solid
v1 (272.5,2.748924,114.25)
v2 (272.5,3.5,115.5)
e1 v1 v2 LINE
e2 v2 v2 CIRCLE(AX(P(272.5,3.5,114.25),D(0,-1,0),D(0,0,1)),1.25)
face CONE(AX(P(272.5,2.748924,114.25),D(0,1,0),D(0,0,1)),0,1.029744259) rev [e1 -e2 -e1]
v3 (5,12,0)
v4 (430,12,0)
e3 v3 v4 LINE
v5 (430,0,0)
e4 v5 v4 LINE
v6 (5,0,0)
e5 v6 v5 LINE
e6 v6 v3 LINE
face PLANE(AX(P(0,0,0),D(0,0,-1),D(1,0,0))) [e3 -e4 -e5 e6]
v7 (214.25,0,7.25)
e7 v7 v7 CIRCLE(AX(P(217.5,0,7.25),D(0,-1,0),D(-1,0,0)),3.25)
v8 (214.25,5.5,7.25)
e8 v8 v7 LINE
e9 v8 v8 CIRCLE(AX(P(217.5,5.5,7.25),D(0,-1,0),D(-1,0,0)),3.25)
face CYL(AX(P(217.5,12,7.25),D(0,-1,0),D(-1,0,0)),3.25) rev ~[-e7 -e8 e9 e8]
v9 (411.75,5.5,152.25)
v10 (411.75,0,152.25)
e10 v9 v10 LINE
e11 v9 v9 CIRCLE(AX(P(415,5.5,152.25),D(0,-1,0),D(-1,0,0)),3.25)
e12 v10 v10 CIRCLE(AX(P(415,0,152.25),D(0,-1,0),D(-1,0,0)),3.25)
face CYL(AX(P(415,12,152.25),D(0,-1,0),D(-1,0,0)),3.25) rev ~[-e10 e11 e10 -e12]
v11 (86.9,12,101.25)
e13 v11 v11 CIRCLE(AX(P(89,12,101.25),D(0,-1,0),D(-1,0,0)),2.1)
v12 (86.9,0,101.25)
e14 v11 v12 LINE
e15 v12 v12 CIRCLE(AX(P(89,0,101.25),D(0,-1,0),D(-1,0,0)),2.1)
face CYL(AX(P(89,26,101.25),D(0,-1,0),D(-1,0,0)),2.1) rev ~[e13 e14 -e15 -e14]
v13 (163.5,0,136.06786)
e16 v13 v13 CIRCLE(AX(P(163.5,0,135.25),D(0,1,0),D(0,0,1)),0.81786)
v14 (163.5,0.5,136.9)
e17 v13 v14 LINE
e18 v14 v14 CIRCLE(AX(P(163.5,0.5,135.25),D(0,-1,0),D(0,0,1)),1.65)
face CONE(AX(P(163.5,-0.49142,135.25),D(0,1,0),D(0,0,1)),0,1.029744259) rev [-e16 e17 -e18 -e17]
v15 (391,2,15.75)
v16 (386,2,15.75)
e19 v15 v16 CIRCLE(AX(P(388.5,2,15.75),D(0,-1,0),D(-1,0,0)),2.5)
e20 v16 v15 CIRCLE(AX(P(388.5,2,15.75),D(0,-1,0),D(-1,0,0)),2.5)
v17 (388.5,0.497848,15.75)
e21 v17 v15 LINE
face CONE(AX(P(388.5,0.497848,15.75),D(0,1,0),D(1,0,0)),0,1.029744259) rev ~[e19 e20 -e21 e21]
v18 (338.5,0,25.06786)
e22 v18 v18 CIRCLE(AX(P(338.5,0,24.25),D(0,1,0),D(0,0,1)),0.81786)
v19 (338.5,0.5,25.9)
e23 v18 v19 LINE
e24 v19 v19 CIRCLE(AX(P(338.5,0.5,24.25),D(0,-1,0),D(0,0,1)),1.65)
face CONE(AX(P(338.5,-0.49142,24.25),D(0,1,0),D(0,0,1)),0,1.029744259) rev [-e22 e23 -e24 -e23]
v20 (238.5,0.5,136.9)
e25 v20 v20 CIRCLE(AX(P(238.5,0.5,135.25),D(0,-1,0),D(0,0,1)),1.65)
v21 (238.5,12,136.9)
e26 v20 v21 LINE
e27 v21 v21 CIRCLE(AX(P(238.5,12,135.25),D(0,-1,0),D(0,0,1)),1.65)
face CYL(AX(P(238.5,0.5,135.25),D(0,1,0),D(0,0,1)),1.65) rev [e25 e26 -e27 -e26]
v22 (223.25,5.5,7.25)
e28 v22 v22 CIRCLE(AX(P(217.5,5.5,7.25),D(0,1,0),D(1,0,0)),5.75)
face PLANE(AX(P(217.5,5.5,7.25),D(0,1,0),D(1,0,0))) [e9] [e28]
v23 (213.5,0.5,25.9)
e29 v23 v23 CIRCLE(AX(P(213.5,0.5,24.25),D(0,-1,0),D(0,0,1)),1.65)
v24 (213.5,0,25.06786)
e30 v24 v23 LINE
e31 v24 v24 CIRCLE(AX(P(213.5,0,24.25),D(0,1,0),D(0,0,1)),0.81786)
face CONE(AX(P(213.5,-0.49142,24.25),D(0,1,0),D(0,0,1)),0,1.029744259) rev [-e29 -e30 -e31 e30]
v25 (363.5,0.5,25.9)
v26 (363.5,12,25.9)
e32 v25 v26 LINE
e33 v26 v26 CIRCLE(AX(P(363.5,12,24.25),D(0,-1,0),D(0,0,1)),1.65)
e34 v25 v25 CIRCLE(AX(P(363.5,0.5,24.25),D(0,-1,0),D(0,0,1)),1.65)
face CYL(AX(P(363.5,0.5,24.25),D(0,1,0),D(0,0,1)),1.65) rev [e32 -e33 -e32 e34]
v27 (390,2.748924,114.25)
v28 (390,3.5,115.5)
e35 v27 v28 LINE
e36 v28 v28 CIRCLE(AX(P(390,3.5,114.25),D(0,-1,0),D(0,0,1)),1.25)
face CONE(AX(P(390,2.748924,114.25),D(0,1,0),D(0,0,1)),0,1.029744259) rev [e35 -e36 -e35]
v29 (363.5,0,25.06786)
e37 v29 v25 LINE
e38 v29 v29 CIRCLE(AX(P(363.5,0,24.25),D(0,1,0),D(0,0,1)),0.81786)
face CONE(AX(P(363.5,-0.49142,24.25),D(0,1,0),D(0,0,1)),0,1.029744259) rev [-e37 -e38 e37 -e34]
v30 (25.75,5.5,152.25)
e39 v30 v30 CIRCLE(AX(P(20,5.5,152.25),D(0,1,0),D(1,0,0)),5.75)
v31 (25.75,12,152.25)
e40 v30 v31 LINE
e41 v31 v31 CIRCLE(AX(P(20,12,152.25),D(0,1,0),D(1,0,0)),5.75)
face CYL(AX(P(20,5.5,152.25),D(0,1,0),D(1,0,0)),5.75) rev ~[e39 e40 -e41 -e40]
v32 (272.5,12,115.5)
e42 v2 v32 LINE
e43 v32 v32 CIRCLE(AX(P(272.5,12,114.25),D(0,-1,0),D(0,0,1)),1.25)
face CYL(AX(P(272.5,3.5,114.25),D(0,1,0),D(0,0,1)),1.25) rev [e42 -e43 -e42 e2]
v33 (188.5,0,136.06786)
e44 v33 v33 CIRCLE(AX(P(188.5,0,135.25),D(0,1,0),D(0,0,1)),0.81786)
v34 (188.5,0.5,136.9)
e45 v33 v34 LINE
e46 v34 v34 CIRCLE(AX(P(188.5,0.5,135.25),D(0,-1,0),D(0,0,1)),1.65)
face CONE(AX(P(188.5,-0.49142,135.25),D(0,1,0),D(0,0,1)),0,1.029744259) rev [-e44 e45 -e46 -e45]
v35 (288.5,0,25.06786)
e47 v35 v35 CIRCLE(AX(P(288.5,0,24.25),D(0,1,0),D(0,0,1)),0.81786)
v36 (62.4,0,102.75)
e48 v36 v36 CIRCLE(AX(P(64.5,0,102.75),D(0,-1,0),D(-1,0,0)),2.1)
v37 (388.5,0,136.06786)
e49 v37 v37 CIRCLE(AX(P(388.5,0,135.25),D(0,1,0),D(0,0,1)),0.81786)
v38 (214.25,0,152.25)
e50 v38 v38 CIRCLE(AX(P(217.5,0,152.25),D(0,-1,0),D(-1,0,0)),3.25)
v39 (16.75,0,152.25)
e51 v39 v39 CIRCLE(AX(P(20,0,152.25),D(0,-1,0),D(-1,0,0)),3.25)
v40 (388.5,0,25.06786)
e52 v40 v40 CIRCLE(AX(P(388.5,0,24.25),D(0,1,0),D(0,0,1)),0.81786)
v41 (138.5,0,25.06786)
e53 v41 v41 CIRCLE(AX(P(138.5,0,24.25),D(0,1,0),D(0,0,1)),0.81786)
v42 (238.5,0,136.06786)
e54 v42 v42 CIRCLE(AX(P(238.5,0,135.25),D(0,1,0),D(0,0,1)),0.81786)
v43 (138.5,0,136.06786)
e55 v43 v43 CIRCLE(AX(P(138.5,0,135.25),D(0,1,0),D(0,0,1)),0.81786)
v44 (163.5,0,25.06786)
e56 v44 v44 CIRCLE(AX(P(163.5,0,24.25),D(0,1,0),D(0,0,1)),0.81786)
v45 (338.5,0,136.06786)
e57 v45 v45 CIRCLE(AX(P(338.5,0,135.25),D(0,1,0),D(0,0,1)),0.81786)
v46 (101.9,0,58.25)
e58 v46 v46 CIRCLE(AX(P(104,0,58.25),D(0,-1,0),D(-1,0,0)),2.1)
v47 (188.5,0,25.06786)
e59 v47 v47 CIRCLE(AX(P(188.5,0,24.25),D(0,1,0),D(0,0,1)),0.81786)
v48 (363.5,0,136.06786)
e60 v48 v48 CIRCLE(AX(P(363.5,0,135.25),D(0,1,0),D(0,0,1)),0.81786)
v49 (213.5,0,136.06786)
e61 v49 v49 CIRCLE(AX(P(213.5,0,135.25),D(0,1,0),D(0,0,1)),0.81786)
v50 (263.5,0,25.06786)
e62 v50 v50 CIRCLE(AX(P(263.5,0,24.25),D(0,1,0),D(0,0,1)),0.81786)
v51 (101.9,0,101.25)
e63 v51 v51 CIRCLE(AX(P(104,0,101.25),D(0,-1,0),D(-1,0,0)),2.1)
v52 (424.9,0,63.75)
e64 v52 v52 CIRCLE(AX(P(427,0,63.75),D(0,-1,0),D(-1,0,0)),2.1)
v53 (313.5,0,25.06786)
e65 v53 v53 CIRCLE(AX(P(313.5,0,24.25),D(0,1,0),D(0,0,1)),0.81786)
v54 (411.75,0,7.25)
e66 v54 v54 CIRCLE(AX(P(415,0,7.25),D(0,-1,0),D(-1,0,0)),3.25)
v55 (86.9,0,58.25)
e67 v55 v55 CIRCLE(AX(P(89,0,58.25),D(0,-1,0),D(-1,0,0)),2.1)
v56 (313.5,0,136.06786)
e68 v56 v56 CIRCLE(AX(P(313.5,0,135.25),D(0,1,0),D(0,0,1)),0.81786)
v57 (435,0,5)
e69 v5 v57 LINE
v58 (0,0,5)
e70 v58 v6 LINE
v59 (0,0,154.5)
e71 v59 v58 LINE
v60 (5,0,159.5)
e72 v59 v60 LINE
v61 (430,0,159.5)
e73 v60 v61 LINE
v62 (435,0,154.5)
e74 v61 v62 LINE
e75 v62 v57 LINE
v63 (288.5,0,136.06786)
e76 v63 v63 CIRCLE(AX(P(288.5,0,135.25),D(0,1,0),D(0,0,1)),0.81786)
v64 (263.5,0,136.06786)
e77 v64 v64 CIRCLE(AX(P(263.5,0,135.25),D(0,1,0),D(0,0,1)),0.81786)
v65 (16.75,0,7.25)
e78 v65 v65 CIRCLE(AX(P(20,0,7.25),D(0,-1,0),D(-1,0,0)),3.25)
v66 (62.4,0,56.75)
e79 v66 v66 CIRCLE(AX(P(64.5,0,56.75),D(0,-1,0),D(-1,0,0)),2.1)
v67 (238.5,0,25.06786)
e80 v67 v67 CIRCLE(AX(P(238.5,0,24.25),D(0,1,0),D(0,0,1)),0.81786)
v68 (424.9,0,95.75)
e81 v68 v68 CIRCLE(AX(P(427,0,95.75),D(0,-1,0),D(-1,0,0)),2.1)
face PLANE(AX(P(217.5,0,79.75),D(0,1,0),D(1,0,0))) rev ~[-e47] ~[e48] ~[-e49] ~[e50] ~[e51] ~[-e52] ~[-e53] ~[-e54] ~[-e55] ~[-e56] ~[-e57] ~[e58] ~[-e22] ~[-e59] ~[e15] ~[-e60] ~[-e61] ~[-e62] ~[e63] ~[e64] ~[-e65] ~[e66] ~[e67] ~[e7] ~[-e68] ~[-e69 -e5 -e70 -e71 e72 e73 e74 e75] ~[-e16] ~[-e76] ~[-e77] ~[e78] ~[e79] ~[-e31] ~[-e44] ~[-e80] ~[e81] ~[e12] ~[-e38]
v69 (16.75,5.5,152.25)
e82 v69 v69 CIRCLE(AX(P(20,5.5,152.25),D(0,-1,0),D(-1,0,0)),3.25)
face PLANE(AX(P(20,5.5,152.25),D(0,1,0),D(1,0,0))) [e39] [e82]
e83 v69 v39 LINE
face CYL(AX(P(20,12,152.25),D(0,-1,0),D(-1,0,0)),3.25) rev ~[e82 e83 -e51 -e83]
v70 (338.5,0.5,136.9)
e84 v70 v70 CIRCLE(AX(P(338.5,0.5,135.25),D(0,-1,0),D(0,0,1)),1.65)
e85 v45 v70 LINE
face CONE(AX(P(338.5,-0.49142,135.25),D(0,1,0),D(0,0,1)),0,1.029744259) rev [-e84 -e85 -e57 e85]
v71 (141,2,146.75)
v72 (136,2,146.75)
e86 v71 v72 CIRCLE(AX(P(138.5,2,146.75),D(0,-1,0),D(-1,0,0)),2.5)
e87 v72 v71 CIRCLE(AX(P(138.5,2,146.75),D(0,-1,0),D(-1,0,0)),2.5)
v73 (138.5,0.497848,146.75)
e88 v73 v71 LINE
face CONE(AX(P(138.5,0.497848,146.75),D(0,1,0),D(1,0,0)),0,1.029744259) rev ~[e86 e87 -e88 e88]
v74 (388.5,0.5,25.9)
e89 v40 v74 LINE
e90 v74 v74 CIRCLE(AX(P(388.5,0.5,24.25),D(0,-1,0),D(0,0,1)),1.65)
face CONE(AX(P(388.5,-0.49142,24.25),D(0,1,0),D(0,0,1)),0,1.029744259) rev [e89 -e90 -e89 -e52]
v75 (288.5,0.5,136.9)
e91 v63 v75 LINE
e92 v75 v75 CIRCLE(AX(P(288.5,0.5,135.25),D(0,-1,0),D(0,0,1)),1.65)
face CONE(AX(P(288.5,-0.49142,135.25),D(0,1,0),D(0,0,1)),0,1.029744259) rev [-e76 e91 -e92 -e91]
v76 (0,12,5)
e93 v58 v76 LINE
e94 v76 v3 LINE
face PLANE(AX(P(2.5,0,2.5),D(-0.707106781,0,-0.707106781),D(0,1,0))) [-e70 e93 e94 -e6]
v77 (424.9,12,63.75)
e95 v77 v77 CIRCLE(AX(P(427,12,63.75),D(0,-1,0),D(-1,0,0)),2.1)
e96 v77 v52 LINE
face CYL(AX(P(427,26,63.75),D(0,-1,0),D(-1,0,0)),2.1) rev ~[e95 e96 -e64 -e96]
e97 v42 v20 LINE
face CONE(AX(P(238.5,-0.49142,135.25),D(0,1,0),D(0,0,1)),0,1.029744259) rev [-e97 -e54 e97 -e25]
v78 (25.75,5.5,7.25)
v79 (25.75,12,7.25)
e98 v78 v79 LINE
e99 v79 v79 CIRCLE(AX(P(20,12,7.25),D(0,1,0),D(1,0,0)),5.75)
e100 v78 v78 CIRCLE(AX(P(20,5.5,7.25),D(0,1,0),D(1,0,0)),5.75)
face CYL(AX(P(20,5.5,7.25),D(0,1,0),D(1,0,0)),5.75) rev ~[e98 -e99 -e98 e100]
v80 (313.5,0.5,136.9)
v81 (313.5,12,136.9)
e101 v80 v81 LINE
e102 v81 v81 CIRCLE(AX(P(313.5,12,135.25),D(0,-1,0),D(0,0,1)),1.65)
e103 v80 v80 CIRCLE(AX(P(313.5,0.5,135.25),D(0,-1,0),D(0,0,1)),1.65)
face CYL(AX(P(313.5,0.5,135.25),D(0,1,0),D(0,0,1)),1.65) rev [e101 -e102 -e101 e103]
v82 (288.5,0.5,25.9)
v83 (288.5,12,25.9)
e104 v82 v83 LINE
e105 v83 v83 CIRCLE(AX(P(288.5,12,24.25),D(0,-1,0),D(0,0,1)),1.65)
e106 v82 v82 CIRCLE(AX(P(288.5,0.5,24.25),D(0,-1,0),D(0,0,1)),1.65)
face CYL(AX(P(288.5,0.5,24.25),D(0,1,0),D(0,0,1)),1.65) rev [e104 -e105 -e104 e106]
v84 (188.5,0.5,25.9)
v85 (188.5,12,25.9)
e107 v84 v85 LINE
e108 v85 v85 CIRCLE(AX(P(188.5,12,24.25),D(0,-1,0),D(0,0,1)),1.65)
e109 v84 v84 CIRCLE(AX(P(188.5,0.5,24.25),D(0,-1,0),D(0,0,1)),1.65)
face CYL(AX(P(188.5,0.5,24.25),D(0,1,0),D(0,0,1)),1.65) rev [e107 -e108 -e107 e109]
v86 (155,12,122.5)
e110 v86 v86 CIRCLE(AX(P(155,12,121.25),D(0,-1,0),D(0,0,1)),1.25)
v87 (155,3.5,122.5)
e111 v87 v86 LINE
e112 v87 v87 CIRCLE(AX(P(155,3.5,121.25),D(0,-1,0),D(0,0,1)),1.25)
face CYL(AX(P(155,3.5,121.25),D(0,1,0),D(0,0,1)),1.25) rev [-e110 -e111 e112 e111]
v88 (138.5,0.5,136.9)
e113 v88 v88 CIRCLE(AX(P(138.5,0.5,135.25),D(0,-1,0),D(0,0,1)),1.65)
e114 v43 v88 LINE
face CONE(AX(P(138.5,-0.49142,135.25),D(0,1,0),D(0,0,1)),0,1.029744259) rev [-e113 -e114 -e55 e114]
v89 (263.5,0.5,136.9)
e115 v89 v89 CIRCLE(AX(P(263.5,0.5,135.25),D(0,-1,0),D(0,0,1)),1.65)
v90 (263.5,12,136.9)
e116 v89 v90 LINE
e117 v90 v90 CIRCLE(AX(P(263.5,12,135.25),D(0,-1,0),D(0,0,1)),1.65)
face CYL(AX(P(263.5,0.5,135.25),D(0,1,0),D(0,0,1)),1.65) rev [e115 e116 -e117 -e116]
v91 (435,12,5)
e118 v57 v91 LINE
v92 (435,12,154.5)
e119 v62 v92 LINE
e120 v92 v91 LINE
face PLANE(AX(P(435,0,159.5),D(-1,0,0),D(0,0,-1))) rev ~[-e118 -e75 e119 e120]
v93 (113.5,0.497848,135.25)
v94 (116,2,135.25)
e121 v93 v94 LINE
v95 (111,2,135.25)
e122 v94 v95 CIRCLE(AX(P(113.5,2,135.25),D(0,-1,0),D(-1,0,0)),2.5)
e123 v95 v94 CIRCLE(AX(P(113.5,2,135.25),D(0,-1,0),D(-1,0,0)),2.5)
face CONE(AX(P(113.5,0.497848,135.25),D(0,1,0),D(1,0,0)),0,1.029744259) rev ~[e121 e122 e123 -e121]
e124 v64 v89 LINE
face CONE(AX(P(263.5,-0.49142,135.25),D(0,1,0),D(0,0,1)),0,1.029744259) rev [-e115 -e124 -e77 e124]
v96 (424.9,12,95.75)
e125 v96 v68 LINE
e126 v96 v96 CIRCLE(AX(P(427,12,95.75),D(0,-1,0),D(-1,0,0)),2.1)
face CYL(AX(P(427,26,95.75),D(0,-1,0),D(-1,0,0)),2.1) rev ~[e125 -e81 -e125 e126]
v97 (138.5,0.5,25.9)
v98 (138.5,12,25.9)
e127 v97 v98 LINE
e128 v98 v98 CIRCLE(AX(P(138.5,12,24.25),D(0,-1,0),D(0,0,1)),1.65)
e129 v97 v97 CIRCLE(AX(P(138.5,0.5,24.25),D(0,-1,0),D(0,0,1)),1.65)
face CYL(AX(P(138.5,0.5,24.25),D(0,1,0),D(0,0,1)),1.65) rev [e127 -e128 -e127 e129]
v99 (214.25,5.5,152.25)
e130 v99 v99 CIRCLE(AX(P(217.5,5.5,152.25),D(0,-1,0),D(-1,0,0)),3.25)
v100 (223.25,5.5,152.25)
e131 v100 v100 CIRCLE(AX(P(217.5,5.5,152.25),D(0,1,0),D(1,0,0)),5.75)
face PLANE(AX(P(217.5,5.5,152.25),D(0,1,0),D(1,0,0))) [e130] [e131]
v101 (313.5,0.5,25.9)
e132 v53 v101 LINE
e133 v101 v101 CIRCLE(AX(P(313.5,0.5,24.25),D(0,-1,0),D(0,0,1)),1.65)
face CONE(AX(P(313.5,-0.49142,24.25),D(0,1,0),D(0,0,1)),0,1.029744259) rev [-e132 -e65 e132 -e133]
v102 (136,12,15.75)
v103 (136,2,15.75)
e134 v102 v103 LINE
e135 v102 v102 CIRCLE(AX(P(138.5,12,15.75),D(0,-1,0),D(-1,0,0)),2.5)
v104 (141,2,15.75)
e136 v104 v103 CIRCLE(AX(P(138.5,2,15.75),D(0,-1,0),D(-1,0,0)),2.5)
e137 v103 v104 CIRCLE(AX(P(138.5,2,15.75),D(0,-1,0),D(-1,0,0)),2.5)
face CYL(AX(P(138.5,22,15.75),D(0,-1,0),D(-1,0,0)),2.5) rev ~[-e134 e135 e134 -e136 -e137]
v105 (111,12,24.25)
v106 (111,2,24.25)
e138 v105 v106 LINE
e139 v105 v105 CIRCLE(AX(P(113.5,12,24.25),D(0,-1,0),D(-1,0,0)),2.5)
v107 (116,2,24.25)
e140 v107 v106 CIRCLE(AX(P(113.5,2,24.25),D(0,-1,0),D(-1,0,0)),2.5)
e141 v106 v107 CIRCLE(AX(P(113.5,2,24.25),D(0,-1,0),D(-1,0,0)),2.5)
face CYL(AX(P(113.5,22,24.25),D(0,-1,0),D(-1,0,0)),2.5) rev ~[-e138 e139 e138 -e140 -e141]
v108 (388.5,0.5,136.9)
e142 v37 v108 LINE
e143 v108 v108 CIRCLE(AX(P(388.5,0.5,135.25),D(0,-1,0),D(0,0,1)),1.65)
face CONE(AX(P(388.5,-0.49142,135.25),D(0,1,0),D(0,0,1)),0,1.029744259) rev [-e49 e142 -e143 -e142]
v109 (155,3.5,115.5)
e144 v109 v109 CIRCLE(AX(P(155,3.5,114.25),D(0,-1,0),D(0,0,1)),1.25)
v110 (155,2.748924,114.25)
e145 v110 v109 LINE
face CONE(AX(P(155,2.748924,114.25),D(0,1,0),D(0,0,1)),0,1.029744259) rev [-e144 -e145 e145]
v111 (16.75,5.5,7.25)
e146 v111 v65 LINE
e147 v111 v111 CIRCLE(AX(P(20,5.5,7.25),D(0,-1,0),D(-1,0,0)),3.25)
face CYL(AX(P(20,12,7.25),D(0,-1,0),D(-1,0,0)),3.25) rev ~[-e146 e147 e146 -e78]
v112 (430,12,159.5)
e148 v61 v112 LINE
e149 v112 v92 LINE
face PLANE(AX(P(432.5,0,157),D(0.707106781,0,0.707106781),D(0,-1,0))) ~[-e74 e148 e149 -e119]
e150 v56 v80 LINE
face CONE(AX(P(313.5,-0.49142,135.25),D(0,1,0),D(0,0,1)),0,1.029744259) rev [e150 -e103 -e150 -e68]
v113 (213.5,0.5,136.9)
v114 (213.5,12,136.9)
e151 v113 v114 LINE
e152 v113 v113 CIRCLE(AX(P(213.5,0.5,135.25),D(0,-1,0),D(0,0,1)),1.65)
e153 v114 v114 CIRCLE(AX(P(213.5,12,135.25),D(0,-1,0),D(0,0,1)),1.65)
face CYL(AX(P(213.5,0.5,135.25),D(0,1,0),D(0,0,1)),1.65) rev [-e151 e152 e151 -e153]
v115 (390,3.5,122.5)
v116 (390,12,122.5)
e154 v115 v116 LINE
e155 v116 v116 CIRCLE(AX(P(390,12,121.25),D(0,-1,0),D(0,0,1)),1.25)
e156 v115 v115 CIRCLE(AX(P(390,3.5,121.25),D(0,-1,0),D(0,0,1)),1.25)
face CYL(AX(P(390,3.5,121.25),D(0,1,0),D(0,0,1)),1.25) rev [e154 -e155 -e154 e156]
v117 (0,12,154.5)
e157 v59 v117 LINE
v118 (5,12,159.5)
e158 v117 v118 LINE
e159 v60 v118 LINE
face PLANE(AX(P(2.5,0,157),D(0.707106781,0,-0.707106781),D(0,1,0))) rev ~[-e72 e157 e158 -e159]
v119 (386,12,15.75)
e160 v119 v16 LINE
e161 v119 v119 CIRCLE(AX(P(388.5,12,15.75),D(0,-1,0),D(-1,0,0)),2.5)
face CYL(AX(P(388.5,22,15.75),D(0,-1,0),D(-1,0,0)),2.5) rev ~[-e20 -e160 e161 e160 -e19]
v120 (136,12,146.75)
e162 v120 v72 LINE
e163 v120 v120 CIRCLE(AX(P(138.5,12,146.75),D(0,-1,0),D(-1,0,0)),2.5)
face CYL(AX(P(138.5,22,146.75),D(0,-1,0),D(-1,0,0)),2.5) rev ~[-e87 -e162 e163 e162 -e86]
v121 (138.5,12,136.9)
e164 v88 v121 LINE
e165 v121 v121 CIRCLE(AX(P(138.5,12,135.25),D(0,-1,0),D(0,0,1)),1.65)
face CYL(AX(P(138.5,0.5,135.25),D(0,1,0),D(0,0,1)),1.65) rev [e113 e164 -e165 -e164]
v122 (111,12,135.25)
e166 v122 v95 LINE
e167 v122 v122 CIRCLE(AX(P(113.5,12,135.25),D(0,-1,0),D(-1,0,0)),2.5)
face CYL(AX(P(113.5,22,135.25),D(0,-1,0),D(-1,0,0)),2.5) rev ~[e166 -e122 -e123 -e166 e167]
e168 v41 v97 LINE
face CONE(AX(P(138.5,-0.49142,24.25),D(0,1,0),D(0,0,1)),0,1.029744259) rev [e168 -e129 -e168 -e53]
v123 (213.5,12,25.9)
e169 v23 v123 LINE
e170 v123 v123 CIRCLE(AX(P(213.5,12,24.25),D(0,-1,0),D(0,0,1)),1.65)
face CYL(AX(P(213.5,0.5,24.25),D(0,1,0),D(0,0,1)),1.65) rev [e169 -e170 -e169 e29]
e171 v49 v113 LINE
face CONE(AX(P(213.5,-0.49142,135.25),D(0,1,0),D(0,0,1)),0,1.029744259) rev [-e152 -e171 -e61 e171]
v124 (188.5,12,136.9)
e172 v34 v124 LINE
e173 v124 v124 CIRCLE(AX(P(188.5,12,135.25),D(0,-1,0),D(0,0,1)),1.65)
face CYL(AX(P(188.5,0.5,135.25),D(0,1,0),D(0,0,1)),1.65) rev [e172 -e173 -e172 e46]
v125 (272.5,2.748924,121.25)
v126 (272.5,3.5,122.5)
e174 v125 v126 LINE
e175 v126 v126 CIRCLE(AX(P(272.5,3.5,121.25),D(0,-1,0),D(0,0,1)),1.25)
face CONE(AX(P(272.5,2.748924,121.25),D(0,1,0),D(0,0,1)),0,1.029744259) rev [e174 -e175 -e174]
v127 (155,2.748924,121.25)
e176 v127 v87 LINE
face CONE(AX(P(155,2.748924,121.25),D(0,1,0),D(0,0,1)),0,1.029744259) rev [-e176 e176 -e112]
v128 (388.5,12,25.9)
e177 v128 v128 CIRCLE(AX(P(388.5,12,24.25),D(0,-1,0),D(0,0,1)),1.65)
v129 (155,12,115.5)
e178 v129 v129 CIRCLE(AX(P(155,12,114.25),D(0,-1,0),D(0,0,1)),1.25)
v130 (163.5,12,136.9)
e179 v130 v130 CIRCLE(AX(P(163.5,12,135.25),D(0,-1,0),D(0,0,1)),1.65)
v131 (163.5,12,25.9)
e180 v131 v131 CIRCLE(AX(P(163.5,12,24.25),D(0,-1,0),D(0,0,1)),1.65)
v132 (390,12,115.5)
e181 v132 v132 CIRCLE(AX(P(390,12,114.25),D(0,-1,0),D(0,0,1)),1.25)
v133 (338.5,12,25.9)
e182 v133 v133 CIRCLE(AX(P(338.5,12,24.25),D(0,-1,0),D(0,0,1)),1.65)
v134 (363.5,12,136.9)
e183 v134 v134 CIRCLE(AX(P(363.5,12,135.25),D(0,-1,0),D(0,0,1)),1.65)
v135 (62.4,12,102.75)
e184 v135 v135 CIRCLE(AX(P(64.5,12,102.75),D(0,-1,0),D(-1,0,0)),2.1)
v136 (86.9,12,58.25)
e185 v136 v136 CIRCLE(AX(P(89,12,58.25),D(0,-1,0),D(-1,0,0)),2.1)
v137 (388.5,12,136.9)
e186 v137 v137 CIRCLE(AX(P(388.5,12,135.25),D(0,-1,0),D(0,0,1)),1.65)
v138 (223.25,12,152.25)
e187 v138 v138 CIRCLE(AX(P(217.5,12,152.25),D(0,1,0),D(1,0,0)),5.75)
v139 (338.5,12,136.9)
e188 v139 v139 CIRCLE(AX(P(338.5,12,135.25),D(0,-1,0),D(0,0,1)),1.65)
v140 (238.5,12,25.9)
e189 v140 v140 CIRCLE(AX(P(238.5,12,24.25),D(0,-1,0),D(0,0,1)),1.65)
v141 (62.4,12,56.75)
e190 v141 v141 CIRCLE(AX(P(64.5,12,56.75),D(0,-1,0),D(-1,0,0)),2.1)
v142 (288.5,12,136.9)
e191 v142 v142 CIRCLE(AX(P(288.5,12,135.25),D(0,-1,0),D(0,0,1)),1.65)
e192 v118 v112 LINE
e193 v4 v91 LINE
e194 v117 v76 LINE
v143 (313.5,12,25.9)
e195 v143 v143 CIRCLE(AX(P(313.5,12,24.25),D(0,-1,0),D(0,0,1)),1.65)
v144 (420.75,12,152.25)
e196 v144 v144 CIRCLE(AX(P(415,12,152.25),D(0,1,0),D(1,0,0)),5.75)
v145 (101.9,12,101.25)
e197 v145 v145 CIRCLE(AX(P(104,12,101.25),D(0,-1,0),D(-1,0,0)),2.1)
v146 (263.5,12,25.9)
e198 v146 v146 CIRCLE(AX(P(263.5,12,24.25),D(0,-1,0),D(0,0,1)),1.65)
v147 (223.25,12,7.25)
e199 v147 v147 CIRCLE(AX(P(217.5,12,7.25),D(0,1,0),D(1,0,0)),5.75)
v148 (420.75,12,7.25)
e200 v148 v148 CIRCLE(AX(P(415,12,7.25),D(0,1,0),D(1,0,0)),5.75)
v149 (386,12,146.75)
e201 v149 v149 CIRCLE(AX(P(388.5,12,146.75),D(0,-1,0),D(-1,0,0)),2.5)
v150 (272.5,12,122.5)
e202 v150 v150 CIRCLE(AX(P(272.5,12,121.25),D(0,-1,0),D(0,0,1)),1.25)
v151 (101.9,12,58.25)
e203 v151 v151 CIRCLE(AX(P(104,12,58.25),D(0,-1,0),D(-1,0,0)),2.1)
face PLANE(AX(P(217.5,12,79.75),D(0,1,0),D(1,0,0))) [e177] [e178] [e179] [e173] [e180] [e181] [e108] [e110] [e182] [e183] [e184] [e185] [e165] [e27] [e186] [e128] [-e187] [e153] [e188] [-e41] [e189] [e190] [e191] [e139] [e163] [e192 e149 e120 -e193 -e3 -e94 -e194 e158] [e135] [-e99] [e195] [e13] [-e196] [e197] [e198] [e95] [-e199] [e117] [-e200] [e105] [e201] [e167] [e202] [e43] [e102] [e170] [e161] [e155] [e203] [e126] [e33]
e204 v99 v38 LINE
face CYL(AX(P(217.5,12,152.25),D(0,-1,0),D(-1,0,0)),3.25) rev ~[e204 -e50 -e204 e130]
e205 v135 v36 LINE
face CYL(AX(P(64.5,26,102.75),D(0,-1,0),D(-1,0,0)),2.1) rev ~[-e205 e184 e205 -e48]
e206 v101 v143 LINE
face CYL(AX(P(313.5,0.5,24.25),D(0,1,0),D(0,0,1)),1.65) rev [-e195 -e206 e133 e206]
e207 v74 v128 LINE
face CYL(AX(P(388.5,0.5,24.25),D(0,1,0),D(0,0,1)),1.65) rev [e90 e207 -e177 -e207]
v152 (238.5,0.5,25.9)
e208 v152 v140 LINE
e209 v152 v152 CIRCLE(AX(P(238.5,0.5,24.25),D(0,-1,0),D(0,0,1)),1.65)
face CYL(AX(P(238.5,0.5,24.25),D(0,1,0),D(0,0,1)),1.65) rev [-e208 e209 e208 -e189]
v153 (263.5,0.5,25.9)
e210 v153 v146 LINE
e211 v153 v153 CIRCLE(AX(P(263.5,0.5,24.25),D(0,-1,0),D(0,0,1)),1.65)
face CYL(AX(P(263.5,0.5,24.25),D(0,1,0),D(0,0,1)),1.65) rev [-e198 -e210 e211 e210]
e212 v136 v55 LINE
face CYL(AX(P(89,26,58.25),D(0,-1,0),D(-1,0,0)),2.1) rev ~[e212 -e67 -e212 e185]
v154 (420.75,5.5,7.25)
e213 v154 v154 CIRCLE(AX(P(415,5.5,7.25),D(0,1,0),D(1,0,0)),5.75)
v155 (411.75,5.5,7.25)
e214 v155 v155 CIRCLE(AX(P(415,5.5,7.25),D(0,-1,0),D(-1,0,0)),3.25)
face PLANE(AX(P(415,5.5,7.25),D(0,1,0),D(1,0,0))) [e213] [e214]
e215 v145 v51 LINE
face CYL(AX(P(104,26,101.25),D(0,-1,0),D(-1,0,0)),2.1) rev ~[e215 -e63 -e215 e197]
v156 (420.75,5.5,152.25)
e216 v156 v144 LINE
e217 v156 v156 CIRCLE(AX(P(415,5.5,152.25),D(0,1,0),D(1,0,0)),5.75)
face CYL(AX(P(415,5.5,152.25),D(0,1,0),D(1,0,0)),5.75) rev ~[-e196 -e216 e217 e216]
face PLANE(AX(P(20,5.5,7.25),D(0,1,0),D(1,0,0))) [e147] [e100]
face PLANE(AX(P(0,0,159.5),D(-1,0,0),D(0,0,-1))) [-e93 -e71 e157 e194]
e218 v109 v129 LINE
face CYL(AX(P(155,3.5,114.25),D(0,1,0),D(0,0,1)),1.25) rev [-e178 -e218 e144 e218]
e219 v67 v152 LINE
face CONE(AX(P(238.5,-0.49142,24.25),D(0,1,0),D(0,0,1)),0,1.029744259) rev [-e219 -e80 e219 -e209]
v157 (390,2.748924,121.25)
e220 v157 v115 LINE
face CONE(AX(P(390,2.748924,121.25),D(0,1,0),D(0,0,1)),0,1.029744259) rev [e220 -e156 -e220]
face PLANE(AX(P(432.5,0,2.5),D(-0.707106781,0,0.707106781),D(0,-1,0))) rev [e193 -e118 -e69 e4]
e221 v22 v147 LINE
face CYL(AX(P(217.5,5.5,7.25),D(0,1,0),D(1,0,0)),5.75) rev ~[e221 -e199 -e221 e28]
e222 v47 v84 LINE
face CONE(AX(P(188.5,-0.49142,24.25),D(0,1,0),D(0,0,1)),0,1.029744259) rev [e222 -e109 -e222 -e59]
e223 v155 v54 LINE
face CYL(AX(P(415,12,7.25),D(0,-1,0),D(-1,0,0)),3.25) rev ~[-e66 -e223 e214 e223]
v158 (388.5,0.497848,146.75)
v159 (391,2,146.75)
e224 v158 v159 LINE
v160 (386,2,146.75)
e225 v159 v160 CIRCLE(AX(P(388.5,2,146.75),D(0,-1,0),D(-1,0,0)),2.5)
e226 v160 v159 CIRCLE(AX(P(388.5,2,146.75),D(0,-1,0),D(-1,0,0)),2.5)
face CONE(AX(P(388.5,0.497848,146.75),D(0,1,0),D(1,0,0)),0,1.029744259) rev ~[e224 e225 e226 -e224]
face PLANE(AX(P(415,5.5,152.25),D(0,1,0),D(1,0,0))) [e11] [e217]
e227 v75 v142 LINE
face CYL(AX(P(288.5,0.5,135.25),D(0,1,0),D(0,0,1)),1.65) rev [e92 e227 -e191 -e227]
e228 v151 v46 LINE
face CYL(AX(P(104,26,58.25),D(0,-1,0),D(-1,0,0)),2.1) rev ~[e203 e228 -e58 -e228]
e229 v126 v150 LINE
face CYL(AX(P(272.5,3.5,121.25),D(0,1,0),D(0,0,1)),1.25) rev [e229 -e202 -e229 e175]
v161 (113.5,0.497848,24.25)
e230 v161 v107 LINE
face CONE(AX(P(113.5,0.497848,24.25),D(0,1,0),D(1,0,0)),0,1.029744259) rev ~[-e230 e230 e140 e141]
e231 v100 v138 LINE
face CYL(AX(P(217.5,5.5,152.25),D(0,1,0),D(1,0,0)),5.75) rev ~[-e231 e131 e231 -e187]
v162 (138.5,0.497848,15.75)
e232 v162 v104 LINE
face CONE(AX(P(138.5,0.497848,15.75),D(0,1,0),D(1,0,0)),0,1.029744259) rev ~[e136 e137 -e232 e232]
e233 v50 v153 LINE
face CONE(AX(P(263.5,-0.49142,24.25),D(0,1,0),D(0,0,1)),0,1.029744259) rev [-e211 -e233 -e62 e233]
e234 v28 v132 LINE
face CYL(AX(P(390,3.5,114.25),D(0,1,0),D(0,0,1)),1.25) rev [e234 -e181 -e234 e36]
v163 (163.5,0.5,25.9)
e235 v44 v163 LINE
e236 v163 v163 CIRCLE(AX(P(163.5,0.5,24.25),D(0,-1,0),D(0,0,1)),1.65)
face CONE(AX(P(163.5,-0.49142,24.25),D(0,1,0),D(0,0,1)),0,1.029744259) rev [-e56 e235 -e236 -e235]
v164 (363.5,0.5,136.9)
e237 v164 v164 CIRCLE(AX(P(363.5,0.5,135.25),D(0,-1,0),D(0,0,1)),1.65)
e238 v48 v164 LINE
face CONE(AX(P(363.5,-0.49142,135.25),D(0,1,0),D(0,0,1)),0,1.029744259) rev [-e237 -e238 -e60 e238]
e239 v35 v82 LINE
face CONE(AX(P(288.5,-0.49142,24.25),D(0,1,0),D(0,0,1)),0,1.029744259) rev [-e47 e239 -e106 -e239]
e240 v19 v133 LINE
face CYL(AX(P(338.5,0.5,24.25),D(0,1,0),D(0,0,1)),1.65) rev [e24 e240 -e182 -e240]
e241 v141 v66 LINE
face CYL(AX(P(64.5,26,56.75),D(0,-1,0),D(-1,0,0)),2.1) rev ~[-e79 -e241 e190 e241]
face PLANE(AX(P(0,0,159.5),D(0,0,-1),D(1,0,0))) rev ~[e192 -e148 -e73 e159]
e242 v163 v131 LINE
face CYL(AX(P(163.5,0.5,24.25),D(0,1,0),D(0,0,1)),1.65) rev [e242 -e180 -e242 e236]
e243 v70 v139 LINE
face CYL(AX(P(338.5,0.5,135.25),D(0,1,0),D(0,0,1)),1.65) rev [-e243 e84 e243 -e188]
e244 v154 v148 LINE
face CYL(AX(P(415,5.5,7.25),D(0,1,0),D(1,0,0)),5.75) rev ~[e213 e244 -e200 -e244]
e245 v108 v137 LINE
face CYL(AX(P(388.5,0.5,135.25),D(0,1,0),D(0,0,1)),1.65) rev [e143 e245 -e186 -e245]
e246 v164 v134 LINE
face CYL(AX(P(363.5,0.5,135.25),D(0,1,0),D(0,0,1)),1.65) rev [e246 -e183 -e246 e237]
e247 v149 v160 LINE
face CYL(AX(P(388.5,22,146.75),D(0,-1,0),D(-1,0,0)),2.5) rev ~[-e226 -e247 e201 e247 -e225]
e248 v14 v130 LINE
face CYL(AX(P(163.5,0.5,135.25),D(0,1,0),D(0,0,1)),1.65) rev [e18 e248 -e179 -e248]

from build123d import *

# Parameters (mm, degrees)
SKETCH_1_W                   = 435
SKETCH_1_H                   = 159.5
EXTRUDE_1_DEPTH              = 12
HOLE_WIZARD_M5_2_D           = 4.2
HOLE_WIZARD_M5_2_DEPTH       = 14
HOLE_WIZARD_M5_2_TIP         = 1.2618073
HOLE_WIZARD_M4_1_AT_2_COUNT  = 2
HOLE_WIZARD_M4_1_AT_2_PITCH  = 111
PATTERN_LINEAR_1_COUNT       = 11
PATTERN_LINEAR_1_PITCH       = 25
HOLE_WIZARD_M6_1_D           = 6.5
HOLE_WIZARD_M6_1_CBORE_D     = 11.5
HOLE_WIZARD_M6_1_CBORE_DEPTH = 6.5
CHAMFER_1_SIZE               = 5
HOLE_WIZARD_M3_1_AT_2_COUNT  = 2
HOLE_WIZARD_M3_1_AT_2_PITCH  = 7
PATTERN_LINEAR_2_COUNT       = 3
PATTERN_LINEAR_2_PITCH       = 117.5
HOLE_WIZARD_5_0_5_2_D        = 5
HOLE_WIZARD_5_0_5_2_DEPTH    = 10
HOLE_WIZARD_5_0_5_2_TIP      = 1.502151548


with BuildPart() as part:
    # Sketch 1 → Extrude 1 (new body)
    with BuildSketch(Plane(origin=(0, 0, 0), x_dir=(1, 0, 0), z_dir=(0, 1, 0))):
        with Locations((217.5, -79.75)):
            Rectangle(SKETCH_1_W, SKETCH_1_H)
    extrude(amount=EXTRUDE_1_DEPTH)

    # Hole Wizard M5 _2
    with Locations(Plane(origin=(0, 12, 0), x_dir=(1, 0, 0), z_dir=(0, 1, 0))):
        with Locations((64.5, -102.75), (64.5, -56.75), (89, -58.25), (104, -58.25), (89, -101.25), (104, -101.25), (427, -63.75), (427, -95.75)):
            Hole(HOLE_WIZARD_M5_2_D / 2, depth=HOLE_WIZARD_M5_2_DEPTH)
            with Locations((0, 0, -(HOLE_WIZARD_M5_2_DEPTH + HOLE_WIZARD_M5_2_TIP / 2))):  # 118° drill point
                Cone(0, HOLE_WIZARD_M5_2_D / 2, HOLE_WIZARD_M5_2_TIP, mode=Mode.SUBTRACT)

    # Sketch 6 → Hole Wizard M4 _1 (revolve, cut)
    with BuildSketch(Plane(origin=(388.5, 12, 24.25), x_dir=(0, 0, 1), z_dir=(1, 0, 0))):
        Polygon((0, 0), (0, 12.491420021), (1.65, 11.5), (1.65, 0), align=None)
    hole_wizard_m4_1 = revolve(axis=Axis((388.5, 18.35, 24.25), (0, -1, 0)), mode=Mode.SUBTRACT)

    # Hole Wizard M4 _1 at 2: Hole Wizard M4 _1 ×2
    with Locations(*[(0, 0, i * HOLE_WIZARD_M4_1_AT_2_PITCH) for i in range(1, HOLE_WIZARD_M4_1_AT_2_COUNT)]):
        add(hole_wizard_m4_1, mode=Mode.SUBTRACT)

    # Pattern Linear 1: Hole Wizard M4 _1 ×11
    with Locations(*[(-i * PATTERN_LINEAR_1_PITCH, 0, 0) for i in range(1, PATTERN_LINEAR_1_COUNT)]):
        add(hole_wizard_m4_1, mode=Mode.SUBTRACT)

    # Pattern Linear 1 copy 1 sketch → Pattern Linear 1 copy 1 (revolve, cut)
    with BuildSketch(Plane(origin=(363.5, 12, 135.25), x_dir=(0, 0, 1), z_dir=(1, 0, 0))):
        Polygon((0, 0), (0, 12.491420021), (1.65, 11.5), (1.65, 0), align=None)
    revolve(axis=Axis((363.5, 18.35, 135.25), (0, -1, 0)), mode=Mode.SUBTRACT)

    # Pattern Linear 1 copy 2 sketch → Pattern Linear 1 copy 2 (revolve, cut)
    with BuildSketch(Plane(origin=(338.5, 12, 135.25), x_dir=(0, 0, 1), z_dir=(1, 0, 0))):
        Polygon((0, 0), (0, 12.491420021), (1.65, 11.5), (1.65, 0), align=None)
    revolve(axis=Axis((338.5, 18.35, 135.25), (0, -1, 0)), mode=Mode.SUBTRACT)

    # Pattern Linear 1 copy 3 sketch → Pattern Linear 1 copy 3 (revolve, cut)
    with BuildSketch(Plane(origin=(313.5, 12, 135.25), x_dir=(0, 0, 1), z_dir=(1, 0, 0))):
        Polygon((0, 0), (0, 12.491420021), (1.65, 11.5), (1.65, 0), align=None)
    revolve(axis=Axis((313.5, 18.35, 135.25), (0, -1, 0)), mode=Mode.SUBTRACT)

    # Pattern Linear 1 copy 4 sketch → Pattern Linear 1 copy 4 (revolve, cut)
    with BuildSketch(Plane(origin=(288.5, 12, 135.25), x_dir=(0, 0, 1), z_dir=(1, 0, 0))):
        Polygon((0, 0), (0, 12.491420021), (1.65, 11.5), (1.65, 0), align=None)
    revolve(axis=Axis((288.5, 18.35, 135.25), (0, -1, 0)), mode=Mode.SUBTRACT)

    # Pattern Linear 1 copy 5 sketch → Pattern Linear 1 copy 5 (revolve, cut)
    with BuildSketch(Plane(origin=(263.5, 12, 135.25), x_dir=(0, 0, 1), z_dir=(1, 0, 0))):
        Polygon((0, 0), (0, 12.491420021), (1.65, 11.5), (1.65, 0), align=None)
    revolve(axis=Axis((263.5, 18.35, 135.25), (0, -1, 0)), mode=Mode.SUBTRACT)

    # Pattern Linear 1 copy 6 sketch → Pattern Linear 1 copy 6 (revolve, cut)
    with BuildSketch(Plane(origin=(238.5, 12, 135.25), x_dir=(0, 0, 1), z_dir=(1, 0, 0))):
        Polygon((0, 0), (0, 12.491420021), (1.65, 11.5), (1.65, 0), align=None)
    revolve(axis=Axis((238.5, 18.35, 135.25), (0, -1, 0)), mode=Mode.SUBTRACT)

    # Pattern Linear 1 copy 7 sketch → Pattern Linear 1 copy 7 (revolve, cut)
    with BuildSketch(Plane(origin=(213.5, 12, 135.25), x_dir=(0, 0, 1), z_dir=(1, 0, 0))):
        Polygon((0, 0), (0, 12.491420021), (1.65, 11.5), (1.65, 0), align=None)
    revolve(axis=Axis((213.5, 18.35, 135.25), (0, -1, 0)), mode=Mode.SUBTRACT)

    # Pattern Linear 1 copy 8 sketch → Pattern Linear 1 copy 8 (revolve, cut)
    with BuildSketch(Plane(origin=(188.5, 12, 135.25), x_dir=(0, 0, 1), z_dir=(1, 0, 0))):
        Polygon((0, 0), (0, 12.491420021), (1.65, 11.5), (1.65, 0), align=None)
    revolve(axis=Axis((188.5, 18.35, 135.25), (0, -1, 0)), mode=Mode.SUBTRACT)

    # Pattern Linear 1 copy 9 sketch → Pattern Linear 1 copy 9 (revolve, cut)
    with BuildSketch(Plane(origin=(163.5, 12, 135.25), x_dir=(0, 0, 1), z_dir=(1, 0, 0))):
        Polygon((0, 0), (0, 12.491420021), (1.65, 11.5), (1.65, 0), align=None)
    revolve(axis=Axis((163.5, 18.35, 135.25), (0, -1, 0)), mode=Mode.SUBTRACT)

    # Pattern Linear 1 copy 10 sketch → Pattern Linear 1 copy 10 (revolve, cut)
    with BuildSketch(Plane(origin=(138.5, 12, 135.25), x_dir=(0, 0, 1), z_dir=(1, 0, 0))):
        Polygon((0, 0), (0, 12.491420021), (1.65, 11.5), (1.65, 0), align=None)
    revolve(axis=Axis((138.5, 18.35, 135.25), (0, -1, 0)), mode=Mode.SUBTRACT)

    # Hole Wizard M6 _1 (through all)
    with Locations(Plane(origin=(0, 12, 0), x_dir=(1, 0, 0), z_dir=(0, 1, 0))):
        with Locations((20, -7.25), (217.5, -7.25), (415, -7.25), (20, -152.25), (217.5, -152.25), (415, -152.25)):
            CounterBoreHole(HOLE_WIZARD_M6_1_D / 2, HOLE_WIZARD_M6_1_CBORE_D / 2, HOLE_WIZARD_M6_1_CBORE_DEPTH)

    # Chamfer 1
    chamfer_1_edges = [part.edges().sort_by_distance(p)[0] for p in [
        (0, 6, 0),
        (435, 6, 0),
        (435, 6, 159.5),
        (0, 6, 159.5),
    ]]
    chamfer(chamfer_1_edges, length=CHAMFER_1_SIZE)

    # Sketch 10 → Hole Wizard M3 _1 (revolve, cut)
    with BuildSketch(Plane(origin=(155, 12, 121.25), x_dir=(0, 0, 1), z_dir=(1, 0, 0))):
        Polygon((0, 0), (0, 9.251075774), (1.25, 8.5), (1.25, 0), align=None)
    hole_wizard_m3_1 = revolve(axis=Axis((155, 18.35, 121.25), (0, -1, 0)), mode=Mode.SUBTRACT)

    # Hole Wizard M3 _1 at 2: Hole Wizard M3 _1 ×2
    with Locations(*[(0, 0, -i * HOLE_WIZARD_M3_1_AT_2_PITCH) for i in range(1, HOLE_WIZARD_M3_1_AT_2_COUNT)]):
        add(hole_wizard_m3_1, mode=Mode.SUBTRACT)

    # Pattern Linear 2: Hole Wizard M3 _1 ×3
    with Locations(*[(i * PATTERN_LINEAR_2_PITCH, 0, 0) for i in range(1, PATTERN_LINEAR_2_COUNT)]):
        add(hole_wizard_m3_1, mode=Mode.SUBTRACT)

    # Pattern Linear 2 copy 1 sketch → Pattern Linear 2 copy 1 (revolve, cut)
    with BuildSketch(Plane(origin=(272.5, 12, 114.25), x_dir=(0, 0, 1), z_dir=(1, 0, 0))):
        Polygon((0, 0), (0, 9.251075774), (1.25, 8.5), (1.25, 0), align=None)
    revolve(axis=Axis((272.5, 18.35, 114.25), (0, -1, 0)), mode=Mode.SUBTRACT)

    # Pattern Linear 2 copy 2 sketch → Pattern Linear 2 copy 2 (revolve, cut)
    with BuildSketch(Plane(origin=(390, 12, 114.25), x_dir=(0, 0, 1), z_dir=(1, 0, 0))):
        Polygon((0, 0), (0, 9.251075774), (1.25, 8.5), (1.25, 0), align=None)
    revolve(axis=Axis((390, 18.35, 114.25), (0, -1, 0)), mode=Mode.SUBTRACT)

    # Hole Wizard 5.0 _5_ _2
    with Locations(Plane(origin=(0, 12, 0), x_dir=(1, 0, 0), z_dir=(0, 1, 0))):
        with Locations((113.5, -135.25), (138.5, -146.75), (388.5, -146.75), (388.5, -15.75), (113.5, -24.25), (138.5, -15.75)):
            Hole(HOLE_WIZARD_5_0_5_2_D / 2, depth=HOLE_WIZARD_5_0_5_2_DEPTH)
            with Locations((0, 0, -(HOLE_WIZARD_5_0_5_2_DEPTH + HOLE_WIZARD_5_0_5_2_TIP / 2))):  # 118° drill point
                Cone(0, HOLE_WIZARD_5_0_5_2_D / 2, HOLE_WIZARD_5_0_5_2_TIP, mode=Mode.SUBTRACT)


solid = part.part
